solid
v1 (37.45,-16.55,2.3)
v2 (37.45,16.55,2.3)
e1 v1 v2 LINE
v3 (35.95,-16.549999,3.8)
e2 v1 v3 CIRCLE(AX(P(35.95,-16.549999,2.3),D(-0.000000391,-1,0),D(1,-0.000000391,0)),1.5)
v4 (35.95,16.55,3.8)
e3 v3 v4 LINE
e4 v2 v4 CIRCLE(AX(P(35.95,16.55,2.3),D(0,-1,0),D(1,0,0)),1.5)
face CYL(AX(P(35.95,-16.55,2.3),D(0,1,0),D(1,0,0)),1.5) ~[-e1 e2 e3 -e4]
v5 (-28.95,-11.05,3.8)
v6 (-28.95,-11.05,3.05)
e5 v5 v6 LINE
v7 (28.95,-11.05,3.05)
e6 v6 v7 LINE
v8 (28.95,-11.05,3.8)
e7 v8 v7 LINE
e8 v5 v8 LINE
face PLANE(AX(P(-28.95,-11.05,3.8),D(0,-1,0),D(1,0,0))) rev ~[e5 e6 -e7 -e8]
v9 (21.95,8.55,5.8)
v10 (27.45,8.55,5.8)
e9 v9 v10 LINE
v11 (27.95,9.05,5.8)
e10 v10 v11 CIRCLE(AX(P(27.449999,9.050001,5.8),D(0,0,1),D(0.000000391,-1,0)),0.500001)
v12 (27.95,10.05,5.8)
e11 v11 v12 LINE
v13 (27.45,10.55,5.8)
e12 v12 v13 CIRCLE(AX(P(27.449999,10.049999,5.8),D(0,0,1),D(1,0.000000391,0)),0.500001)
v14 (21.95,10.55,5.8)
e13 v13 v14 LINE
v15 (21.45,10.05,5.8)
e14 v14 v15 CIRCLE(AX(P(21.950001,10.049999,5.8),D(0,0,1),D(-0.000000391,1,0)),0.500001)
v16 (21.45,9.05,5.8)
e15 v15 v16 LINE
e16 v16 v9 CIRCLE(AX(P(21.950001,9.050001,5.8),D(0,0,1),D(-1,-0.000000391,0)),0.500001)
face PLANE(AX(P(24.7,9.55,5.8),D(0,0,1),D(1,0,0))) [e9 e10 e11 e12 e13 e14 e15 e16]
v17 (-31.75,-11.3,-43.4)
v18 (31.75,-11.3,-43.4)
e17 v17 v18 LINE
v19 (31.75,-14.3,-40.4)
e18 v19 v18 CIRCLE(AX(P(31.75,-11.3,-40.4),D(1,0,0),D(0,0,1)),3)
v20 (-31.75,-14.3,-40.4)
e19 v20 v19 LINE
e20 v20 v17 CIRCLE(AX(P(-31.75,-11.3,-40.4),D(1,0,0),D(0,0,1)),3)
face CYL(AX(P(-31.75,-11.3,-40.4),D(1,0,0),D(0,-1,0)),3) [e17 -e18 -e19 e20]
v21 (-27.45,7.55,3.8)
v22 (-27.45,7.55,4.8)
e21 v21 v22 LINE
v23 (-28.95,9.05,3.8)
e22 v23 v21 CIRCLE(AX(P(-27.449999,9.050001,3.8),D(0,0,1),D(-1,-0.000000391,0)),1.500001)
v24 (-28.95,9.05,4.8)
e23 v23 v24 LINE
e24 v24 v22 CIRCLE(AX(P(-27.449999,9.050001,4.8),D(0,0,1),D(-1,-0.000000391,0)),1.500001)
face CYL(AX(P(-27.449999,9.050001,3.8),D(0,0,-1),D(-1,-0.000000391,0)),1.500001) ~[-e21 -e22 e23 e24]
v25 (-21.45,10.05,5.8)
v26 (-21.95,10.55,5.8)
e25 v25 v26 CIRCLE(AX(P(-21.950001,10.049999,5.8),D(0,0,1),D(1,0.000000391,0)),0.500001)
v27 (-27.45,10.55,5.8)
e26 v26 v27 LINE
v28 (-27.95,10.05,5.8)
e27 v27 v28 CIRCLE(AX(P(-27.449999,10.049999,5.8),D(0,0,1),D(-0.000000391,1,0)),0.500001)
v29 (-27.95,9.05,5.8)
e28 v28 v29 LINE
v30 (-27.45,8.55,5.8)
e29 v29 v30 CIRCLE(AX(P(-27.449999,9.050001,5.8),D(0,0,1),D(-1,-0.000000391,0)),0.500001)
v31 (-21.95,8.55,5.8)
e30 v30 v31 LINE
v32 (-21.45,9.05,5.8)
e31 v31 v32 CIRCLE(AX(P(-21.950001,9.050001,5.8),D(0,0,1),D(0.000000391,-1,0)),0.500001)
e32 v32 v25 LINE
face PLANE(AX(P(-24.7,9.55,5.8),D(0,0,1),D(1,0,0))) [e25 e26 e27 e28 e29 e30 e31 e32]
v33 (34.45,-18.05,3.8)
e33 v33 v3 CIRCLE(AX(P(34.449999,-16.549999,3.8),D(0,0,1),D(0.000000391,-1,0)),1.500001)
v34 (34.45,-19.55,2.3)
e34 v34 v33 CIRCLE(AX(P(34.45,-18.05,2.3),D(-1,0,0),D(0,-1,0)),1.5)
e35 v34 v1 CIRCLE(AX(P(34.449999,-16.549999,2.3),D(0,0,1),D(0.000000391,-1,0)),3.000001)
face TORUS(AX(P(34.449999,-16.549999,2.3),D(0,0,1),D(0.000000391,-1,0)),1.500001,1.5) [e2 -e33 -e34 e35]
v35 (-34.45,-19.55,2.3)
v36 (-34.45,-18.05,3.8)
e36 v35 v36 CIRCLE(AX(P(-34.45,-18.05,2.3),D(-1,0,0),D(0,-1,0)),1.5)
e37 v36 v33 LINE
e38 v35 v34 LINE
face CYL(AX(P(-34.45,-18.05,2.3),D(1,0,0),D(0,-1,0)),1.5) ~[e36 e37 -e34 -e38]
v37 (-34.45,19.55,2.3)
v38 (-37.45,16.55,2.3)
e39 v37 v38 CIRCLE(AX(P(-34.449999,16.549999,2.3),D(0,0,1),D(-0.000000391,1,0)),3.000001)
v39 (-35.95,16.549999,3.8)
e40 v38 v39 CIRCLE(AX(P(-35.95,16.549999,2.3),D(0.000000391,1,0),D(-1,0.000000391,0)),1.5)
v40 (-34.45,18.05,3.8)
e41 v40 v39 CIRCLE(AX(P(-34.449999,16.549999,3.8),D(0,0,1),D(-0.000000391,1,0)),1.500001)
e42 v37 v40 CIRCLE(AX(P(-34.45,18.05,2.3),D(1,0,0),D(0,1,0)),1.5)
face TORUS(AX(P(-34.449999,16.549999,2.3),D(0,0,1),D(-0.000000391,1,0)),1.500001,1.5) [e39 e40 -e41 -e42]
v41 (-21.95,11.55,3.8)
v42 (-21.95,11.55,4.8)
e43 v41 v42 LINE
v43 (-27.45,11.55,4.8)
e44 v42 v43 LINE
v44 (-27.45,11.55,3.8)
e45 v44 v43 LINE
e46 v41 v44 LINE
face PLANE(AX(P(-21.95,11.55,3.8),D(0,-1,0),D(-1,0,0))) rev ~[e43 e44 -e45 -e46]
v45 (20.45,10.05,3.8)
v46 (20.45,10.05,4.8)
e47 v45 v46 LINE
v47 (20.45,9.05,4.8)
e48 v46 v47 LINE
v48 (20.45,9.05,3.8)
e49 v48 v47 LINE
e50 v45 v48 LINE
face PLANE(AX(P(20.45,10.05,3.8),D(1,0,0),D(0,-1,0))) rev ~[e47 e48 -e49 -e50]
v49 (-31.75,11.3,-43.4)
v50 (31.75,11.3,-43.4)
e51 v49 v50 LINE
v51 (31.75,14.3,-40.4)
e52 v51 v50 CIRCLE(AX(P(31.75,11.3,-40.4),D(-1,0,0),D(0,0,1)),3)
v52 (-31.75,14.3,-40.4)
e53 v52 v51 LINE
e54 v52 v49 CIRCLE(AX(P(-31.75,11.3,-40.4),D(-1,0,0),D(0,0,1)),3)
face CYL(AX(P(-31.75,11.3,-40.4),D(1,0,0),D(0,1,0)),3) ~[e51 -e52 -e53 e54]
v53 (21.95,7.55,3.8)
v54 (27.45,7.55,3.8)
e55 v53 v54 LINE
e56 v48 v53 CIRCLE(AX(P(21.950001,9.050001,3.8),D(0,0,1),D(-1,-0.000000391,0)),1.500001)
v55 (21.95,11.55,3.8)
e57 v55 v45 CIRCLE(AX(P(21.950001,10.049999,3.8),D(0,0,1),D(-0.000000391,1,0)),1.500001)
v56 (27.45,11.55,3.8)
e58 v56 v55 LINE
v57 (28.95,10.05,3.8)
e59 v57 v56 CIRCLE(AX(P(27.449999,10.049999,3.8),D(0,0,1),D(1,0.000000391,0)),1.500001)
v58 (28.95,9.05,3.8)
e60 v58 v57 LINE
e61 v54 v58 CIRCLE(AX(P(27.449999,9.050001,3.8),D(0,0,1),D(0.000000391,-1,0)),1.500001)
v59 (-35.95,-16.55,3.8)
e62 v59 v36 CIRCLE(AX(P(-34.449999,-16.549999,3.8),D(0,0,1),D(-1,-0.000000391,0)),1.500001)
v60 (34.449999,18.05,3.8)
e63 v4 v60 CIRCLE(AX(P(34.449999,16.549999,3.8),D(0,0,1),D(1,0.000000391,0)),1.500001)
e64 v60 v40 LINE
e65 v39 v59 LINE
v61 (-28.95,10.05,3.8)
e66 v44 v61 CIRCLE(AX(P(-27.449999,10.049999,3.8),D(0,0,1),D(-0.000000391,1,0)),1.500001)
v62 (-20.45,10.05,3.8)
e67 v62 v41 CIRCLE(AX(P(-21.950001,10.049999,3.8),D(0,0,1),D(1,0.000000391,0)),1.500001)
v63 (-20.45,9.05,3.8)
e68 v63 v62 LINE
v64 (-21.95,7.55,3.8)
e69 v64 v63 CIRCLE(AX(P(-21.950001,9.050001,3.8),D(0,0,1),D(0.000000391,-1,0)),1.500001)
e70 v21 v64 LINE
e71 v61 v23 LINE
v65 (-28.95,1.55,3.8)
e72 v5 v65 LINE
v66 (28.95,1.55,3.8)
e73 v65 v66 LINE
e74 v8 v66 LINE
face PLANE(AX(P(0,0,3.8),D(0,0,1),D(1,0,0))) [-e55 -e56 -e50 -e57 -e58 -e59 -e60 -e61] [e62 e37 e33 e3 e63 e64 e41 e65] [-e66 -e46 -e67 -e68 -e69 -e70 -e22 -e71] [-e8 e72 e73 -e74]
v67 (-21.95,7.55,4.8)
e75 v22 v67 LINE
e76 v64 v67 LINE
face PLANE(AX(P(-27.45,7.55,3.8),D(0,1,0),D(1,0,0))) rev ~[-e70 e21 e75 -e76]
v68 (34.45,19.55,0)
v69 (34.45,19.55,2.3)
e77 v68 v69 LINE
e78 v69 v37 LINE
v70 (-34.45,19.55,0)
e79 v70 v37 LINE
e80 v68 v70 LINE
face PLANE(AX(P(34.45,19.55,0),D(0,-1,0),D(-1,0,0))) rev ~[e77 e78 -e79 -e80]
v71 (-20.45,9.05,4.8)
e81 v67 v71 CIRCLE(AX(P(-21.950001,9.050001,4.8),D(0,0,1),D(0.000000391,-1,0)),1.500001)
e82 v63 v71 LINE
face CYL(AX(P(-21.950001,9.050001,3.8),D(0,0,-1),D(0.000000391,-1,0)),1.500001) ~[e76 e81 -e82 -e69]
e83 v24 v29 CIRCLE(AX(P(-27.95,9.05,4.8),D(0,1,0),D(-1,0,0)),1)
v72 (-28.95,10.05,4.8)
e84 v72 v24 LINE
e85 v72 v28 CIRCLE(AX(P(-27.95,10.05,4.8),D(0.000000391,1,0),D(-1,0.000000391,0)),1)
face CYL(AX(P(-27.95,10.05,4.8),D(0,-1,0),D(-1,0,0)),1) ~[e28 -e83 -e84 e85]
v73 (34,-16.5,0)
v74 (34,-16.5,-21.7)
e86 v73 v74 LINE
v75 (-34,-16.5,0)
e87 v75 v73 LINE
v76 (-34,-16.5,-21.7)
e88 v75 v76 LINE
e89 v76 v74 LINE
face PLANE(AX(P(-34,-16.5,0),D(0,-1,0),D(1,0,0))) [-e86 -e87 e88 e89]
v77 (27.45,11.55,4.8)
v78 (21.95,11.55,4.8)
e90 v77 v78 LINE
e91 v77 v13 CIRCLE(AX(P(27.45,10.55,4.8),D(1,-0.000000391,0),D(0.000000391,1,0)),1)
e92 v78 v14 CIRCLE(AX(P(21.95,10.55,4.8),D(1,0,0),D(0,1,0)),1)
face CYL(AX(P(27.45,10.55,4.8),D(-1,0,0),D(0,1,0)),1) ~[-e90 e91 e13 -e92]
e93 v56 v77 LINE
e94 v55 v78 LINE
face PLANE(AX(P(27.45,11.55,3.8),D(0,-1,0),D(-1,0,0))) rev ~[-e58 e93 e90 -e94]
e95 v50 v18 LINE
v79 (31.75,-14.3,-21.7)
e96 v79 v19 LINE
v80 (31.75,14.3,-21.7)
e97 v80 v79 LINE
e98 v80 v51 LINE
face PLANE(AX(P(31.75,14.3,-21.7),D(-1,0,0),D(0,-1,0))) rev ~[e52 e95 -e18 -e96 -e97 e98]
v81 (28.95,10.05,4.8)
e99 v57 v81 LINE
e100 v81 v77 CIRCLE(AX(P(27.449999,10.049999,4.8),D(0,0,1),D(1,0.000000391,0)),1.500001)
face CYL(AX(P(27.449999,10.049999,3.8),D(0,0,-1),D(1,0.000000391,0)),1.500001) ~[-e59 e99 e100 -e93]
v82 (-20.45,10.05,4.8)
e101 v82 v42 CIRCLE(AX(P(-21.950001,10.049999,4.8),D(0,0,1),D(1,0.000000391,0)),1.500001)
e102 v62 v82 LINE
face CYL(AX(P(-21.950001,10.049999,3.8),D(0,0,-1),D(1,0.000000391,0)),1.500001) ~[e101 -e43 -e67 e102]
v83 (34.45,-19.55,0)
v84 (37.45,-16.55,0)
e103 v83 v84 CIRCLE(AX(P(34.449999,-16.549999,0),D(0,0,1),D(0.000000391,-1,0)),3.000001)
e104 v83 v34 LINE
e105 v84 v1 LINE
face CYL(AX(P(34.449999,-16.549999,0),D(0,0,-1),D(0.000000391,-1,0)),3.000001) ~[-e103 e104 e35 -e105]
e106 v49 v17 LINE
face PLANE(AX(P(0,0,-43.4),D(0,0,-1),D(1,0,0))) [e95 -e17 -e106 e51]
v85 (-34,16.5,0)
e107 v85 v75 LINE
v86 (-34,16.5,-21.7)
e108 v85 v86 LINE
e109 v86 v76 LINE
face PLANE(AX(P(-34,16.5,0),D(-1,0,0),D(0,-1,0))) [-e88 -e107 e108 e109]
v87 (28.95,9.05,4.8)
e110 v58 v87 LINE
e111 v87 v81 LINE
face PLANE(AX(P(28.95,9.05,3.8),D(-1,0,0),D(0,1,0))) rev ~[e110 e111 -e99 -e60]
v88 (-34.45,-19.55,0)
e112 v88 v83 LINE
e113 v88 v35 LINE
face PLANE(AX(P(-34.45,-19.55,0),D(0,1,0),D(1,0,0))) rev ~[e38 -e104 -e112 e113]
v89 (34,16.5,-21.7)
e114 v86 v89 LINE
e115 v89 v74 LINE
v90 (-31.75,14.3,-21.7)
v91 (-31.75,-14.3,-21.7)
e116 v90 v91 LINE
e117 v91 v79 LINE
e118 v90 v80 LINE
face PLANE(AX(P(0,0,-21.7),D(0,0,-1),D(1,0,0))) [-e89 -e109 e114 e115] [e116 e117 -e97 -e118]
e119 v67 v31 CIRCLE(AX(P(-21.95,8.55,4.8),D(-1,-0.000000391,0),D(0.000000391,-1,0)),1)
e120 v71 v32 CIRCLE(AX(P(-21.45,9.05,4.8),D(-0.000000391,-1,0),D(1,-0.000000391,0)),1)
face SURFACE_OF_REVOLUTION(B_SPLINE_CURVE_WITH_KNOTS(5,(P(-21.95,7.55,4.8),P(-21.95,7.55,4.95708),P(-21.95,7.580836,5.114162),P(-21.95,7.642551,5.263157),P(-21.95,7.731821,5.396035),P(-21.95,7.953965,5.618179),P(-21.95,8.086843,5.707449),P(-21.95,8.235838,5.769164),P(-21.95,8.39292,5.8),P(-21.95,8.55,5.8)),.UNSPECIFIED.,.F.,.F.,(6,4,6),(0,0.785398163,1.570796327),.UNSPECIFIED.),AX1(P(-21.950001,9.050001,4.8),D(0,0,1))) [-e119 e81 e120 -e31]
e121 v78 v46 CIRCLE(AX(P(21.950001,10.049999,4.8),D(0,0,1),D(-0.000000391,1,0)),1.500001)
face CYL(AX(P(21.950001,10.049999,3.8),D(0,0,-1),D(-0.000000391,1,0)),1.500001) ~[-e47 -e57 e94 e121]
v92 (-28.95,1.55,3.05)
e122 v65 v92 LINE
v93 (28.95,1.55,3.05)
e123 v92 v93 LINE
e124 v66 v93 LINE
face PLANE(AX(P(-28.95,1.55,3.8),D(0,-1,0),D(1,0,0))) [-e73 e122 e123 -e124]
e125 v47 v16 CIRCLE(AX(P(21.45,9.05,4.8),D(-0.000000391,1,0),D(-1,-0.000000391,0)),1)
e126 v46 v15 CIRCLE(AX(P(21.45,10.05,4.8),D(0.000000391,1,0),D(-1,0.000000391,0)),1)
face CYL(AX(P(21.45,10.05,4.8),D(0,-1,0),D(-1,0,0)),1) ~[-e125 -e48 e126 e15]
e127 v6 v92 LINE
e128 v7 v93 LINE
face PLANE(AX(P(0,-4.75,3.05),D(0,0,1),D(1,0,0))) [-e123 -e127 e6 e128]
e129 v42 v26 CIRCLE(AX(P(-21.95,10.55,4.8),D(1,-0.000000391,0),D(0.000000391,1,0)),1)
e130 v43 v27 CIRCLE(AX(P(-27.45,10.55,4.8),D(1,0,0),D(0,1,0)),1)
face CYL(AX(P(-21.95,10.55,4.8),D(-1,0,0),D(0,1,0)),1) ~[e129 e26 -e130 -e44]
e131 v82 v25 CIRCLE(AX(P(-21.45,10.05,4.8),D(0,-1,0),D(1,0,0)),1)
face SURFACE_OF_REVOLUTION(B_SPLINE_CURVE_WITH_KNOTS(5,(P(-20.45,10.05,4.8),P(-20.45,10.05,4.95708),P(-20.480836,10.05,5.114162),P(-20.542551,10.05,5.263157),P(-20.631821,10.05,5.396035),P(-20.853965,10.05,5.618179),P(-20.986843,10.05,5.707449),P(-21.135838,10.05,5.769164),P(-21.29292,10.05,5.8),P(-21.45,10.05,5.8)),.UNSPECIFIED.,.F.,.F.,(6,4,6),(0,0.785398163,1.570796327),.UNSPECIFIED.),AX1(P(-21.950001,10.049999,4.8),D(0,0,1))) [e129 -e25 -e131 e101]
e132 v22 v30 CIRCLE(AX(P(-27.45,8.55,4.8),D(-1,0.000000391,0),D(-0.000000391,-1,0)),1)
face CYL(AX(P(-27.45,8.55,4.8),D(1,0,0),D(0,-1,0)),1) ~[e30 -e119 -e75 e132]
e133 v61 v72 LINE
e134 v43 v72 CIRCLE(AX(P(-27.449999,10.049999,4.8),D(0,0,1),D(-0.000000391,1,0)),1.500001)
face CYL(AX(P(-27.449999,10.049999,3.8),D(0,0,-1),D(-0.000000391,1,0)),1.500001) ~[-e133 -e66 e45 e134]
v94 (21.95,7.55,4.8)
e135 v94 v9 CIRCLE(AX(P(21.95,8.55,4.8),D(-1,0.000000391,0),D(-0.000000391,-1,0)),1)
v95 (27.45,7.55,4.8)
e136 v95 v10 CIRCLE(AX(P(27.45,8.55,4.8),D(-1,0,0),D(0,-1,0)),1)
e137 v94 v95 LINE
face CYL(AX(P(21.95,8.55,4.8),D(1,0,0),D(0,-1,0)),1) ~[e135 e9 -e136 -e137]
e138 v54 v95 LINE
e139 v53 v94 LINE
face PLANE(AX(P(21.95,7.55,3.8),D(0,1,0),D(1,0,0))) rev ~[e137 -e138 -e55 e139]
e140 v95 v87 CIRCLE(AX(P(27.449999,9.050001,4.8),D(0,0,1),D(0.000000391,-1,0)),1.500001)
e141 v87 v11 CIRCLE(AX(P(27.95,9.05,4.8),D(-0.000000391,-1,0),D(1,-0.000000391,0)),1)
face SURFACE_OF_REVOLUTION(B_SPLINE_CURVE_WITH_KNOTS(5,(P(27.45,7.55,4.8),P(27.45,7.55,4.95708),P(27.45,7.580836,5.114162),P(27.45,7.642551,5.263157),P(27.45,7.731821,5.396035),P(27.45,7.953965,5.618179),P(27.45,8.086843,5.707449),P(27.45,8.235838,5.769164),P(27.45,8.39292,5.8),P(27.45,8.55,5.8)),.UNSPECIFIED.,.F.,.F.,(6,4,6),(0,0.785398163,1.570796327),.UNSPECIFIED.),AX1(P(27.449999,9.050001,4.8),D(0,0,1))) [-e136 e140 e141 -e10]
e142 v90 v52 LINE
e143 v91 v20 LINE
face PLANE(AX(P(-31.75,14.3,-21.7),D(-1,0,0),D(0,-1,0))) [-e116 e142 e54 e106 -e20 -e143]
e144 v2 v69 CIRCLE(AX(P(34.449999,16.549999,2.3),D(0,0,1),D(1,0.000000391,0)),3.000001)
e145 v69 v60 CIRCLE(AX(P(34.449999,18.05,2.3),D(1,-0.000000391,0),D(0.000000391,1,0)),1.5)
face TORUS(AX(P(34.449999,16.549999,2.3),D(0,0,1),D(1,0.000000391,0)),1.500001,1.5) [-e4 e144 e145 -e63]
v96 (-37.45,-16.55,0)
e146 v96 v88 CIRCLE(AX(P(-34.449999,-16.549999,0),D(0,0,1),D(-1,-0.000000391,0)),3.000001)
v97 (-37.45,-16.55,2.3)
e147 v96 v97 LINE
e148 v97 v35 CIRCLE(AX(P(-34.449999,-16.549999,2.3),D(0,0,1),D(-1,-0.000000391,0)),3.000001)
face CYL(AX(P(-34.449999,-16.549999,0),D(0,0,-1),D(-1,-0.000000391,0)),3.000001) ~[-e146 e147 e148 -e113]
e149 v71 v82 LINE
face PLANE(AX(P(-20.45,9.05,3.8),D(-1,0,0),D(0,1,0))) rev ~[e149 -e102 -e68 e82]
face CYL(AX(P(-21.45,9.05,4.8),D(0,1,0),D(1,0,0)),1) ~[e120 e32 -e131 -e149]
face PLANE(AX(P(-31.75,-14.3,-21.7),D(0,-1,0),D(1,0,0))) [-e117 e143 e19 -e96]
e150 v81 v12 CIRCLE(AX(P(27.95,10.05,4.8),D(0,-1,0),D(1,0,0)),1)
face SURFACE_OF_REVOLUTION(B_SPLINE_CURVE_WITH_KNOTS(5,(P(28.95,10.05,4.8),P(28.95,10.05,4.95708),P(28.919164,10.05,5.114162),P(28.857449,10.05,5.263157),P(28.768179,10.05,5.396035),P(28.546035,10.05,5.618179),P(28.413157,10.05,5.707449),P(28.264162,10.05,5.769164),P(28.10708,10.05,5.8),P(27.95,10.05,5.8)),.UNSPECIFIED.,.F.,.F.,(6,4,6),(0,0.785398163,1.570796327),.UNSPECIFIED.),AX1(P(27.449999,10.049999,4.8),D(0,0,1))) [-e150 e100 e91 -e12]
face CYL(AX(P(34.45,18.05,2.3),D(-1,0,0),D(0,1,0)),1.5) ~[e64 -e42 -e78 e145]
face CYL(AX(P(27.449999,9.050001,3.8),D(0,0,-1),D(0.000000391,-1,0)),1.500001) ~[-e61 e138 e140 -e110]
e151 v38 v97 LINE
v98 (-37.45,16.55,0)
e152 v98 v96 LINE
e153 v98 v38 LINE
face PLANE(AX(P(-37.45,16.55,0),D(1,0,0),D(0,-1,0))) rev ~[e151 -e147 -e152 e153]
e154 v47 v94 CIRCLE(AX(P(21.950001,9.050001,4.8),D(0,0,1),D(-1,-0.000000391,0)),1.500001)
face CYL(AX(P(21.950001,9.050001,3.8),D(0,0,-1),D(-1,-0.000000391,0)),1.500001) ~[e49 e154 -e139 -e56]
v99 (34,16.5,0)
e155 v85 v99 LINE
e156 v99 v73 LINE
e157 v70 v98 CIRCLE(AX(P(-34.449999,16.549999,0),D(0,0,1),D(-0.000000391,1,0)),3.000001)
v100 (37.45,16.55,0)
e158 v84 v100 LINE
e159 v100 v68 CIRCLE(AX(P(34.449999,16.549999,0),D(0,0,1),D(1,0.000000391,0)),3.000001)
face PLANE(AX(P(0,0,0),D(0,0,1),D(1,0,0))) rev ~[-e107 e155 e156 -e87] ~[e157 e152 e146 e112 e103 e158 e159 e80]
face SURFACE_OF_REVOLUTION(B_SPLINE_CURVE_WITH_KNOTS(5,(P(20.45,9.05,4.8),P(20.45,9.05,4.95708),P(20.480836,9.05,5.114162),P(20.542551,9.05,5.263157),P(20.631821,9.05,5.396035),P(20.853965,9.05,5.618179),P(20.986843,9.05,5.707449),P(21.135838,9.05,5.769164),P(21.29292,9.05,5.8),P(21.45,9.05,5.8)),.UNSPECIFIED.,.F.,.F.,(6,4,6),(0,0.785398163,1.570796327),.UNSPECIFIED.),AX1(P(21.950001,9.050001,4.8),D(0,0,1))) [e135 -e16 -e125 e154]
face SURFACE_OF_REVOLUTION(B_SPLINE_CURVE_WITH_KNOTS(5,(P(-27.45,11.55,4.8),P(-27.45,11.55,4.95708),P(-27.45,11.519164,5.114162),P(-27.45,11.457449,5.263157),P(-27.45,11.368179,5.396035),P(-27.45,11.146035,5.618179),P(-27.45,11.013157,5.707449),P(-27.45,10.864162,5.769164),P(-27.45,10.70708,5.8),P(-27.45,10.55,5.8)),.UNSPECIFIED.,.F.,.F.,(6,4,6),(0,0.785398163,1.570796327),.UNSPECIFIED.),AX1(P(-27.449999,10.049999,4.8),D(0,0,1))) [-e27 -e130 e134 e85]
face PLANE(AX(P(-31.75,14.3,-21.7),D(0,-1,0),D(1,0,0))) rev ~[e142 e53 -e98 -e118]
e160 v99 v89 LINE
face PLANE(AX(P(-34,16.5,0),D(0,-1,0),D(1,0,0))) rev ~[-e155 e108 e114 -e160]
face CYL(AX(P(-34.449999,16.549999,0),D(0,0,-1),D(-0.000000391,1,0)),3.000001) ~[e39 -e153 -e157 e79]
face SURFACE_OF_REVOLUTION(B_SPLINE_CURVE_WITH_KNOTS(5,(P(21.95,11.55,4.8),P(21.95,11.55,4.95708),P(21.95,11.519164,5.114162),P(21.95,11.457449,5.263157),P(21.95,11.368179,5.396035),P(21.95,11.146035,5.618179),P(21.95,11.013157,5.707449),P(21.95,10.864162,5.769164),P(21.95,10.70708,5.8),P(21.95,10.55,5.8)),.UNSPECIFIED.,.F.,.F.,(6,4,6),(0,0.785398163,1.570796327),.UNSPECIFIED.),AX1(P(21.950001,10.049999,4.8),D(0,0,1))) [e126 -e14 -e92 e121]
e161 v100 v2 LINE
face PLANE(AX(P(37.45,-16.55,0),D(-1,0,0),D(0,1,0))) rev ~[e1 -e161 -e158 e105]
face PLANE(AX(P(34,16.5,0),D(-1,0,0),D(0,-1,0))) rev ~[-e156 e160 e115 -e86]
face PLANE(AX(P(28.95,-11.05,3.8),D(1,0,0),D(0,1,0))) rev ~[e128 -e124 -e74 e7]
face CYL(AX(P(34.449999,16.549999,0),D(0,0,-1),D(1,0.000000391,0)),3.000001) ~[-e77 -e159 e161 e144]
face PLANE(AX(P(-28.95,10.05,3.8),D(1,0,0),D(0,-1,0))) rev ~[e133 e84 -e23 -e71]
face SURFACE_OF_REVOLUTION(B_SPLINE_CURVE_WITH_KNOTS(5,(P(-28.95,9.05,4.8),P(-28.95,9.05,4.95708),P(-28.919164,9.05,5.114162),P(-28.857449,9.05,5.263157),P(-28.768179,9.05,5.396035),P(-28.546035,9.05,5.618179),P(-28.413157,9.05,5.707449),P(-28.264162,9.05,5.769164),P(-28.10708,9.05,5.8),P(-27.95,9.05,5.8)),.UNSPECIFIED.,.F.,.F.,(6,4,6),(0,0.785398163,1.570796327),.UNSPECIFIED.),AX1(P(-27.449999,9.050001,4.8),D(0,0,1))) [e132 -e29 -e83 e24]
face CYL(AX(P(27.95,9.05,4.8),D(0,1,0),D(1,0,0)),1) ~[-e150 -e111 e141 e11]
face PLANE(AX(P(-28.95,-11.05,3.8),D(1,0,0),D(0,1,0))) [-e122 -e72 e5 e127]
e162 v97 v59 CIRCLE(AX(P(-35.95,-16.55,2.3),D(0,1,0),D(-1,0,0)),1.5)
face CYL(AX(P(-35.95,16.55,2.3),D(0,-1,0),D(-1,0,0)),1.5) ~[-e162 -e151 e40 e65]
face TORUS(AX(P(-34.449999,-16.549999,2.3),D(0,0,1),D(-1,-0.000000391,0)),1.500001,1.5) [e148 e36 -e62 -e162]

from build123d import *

# Parameters (mm, degrees)
F1_DEPTH  = 3.8
F2_R      = 1.5
F3_W      = 68
F3_H      = 33
F4_DEPTH  = 21.7
F5_W      = 63.5
F5_H      = 28.6
F6_DEPTH  = 21.7
F7_R      = 3
F9_DEPTH  = 2
F10_R     = 1
F8_W      = 57.9
F8_H      = 12.6
F11_DEPTH = 0.75


with BuildPart() as f1:
    # F0 (on Top) → F1 (new body)
    with BuildSketch(Plane.XY):
        with BuildLine():
            Line((-34.45, -19.55), (34.45, -19.55))
            ThreePointArc((34.45, -19.55), (36.57132, -18.67132), (37.45, -16.55))
            Line((37.45, -16.55), (37.45, 16.55))
            ThreePointArc((37.45, 16.55), (36.57132, 18.67132), (34.45, 19.55))
            Line((34.45, 19.55), (-34.45, 19.55))
            ThreePointArc((-34.45, 19.55), (-36.57132, 18.67132), (-37.45, 16.55))
            Line((-37.45, 16.55), (-37.45, -16.55))
            ThreePointArc((-37.45, -16.55), (-36.57132, -18.67132), (-34.45, -19.55))
        make_face()
    extrude(amount=F1_DEPTH)

    # F2
    f2_edges = [f1.edges().sort_by_distance(p)[0] for p in [
        (0, -19.55, 3.8),
        (36.57132, -18.67132, 3.8),
        (37.45, 0, 3.8),
        (36.57132, 18.67132, 3.8),
        (0, 19.55, 3.8),
        (-36.57132, 18.67132, 3.8),
        (-37.45, 0, 3.8),
        (-36.57132, -18.67132, 3.8),
    ]]
    fillet(f2_edges, radius=F2_R)

    # F3 (on face) → F4 (join)
    with BuildSketch(Plane(origin=(0, 0, 0), x_dir=(1, 0, 0), z_dir=(0, 0, -1))):
        Rectangle(F3_W, F3_H)
    extrude(amount=F4_DEPTH)

    # F5 (on face) → F6 (join)
    with BuildSketch(Plane(origin=(0, 0, -21.7), x_dir=(1, 0, 0), z_dir=(0, 0, -1))):
        Rectangle(F5_W, F5_H)
    extrude(amount=F6_DEPTH)

    # F7
    f7_edges = [f1.edges().sort_by_distance(p)[0] for p in [
        (0, -14.3, -43.4),
        (0, 14.3, -43.4),
    ]]
    fillet(f7_edges, radius=F7_R)

    # F8 (on face) → F9 (join)
    with BuildSketch(Plane.XY.offset(3.8)):
        with BuildLine():
            Line((21.95, 7.55), (27.45, 7.55))
            ThreePointArc((27.45, 7.55), (28.51066, 7.98934), (28.95, 9.05))
            Line((28.95, 9.05), (28.95, 10.05))
            ThreePointArc((28.95, 10.05), (28.51066, 11.11066), (27.45, 11.55))
            Line((27.45, 11.55), (21.95, 11.55))
            ThreePointArc((21.95, 11.55), (20.88934, 11.11066), (20.45, 10.05))
            Line((20.45, 10.05), (20.45, 9.05))
            ThreePointArc((20.45, 9.05), (20.88934, 7.98934), (21.95, 7.55))
        make_face()
        with BuildLine():
            ThreePointArc((-21.95, 7.55), (-20.88934, 7.98934), (-20.45, 9.05))
            Line((-20.45, 9.05), (-20.45, 10.05))
            ThreePointArc((-20.45, 10.05), (-20.88934, 11.11066), (-21.95, 11.55))
            Line((-21.95, 11.55), (-27.45, 11.55))
            ThreePointArc((-27.45, 11.55), (-28.51066, 11.11066), (-28.95, 10.05))
            Line((-28.95, 10.05), (-28.95, 9.05))
            ThreePointArc((-28.95, 9.05), (-28.51066, 7.98934), (-27.45, 7.55))
            Line((-27.45, 7.55), (-21.95, 7.55))
        make_face()
    extrude(amount=F9_DEPTH)

    # F10
    f10_edges = [f1.edges().sort_by_distance(p)[0] for p in [
        (20.88934, 7.98934, 5.8),
        (24.7, 7.55, 5.8),
        (28.51066, 7.98934, 5.8),
        (28.95, 9.55, 5.8),
        (28.51066, 11.11066, 5.8),
        (24.7, 11.55, 5.8),
        (20.88934, 11.11066, 5.8),
        (20.45, 9.55, 5.8),
        (-20.88934, 7.98934, 5.8),
        (-20.45, 9.55, 5.8),
        (-20.88934, 11.11066, 5.8),
        (-24.7, 11.55, 5.8),
        (-28.51066, 11.11066, 5.8),
        (-28.95, 9.55, 5.8),
        (-28.51066, 7.98934, 5.8),
        (-24.7, 7.55, 5.8),
    ]]
    fillet(f10_edges, radius=F10_R)

    # F8 (on face) → F11 (cut)
    with BuildSketch(Plane.XY.offset(3.8)):
        with Locations((0, -4.75)):
            Rectangle(F8_W, F8_H)
    extrude(amount=-F11_DEPTH, mode=Mode.SUBTRACT)


solid = f1.part
